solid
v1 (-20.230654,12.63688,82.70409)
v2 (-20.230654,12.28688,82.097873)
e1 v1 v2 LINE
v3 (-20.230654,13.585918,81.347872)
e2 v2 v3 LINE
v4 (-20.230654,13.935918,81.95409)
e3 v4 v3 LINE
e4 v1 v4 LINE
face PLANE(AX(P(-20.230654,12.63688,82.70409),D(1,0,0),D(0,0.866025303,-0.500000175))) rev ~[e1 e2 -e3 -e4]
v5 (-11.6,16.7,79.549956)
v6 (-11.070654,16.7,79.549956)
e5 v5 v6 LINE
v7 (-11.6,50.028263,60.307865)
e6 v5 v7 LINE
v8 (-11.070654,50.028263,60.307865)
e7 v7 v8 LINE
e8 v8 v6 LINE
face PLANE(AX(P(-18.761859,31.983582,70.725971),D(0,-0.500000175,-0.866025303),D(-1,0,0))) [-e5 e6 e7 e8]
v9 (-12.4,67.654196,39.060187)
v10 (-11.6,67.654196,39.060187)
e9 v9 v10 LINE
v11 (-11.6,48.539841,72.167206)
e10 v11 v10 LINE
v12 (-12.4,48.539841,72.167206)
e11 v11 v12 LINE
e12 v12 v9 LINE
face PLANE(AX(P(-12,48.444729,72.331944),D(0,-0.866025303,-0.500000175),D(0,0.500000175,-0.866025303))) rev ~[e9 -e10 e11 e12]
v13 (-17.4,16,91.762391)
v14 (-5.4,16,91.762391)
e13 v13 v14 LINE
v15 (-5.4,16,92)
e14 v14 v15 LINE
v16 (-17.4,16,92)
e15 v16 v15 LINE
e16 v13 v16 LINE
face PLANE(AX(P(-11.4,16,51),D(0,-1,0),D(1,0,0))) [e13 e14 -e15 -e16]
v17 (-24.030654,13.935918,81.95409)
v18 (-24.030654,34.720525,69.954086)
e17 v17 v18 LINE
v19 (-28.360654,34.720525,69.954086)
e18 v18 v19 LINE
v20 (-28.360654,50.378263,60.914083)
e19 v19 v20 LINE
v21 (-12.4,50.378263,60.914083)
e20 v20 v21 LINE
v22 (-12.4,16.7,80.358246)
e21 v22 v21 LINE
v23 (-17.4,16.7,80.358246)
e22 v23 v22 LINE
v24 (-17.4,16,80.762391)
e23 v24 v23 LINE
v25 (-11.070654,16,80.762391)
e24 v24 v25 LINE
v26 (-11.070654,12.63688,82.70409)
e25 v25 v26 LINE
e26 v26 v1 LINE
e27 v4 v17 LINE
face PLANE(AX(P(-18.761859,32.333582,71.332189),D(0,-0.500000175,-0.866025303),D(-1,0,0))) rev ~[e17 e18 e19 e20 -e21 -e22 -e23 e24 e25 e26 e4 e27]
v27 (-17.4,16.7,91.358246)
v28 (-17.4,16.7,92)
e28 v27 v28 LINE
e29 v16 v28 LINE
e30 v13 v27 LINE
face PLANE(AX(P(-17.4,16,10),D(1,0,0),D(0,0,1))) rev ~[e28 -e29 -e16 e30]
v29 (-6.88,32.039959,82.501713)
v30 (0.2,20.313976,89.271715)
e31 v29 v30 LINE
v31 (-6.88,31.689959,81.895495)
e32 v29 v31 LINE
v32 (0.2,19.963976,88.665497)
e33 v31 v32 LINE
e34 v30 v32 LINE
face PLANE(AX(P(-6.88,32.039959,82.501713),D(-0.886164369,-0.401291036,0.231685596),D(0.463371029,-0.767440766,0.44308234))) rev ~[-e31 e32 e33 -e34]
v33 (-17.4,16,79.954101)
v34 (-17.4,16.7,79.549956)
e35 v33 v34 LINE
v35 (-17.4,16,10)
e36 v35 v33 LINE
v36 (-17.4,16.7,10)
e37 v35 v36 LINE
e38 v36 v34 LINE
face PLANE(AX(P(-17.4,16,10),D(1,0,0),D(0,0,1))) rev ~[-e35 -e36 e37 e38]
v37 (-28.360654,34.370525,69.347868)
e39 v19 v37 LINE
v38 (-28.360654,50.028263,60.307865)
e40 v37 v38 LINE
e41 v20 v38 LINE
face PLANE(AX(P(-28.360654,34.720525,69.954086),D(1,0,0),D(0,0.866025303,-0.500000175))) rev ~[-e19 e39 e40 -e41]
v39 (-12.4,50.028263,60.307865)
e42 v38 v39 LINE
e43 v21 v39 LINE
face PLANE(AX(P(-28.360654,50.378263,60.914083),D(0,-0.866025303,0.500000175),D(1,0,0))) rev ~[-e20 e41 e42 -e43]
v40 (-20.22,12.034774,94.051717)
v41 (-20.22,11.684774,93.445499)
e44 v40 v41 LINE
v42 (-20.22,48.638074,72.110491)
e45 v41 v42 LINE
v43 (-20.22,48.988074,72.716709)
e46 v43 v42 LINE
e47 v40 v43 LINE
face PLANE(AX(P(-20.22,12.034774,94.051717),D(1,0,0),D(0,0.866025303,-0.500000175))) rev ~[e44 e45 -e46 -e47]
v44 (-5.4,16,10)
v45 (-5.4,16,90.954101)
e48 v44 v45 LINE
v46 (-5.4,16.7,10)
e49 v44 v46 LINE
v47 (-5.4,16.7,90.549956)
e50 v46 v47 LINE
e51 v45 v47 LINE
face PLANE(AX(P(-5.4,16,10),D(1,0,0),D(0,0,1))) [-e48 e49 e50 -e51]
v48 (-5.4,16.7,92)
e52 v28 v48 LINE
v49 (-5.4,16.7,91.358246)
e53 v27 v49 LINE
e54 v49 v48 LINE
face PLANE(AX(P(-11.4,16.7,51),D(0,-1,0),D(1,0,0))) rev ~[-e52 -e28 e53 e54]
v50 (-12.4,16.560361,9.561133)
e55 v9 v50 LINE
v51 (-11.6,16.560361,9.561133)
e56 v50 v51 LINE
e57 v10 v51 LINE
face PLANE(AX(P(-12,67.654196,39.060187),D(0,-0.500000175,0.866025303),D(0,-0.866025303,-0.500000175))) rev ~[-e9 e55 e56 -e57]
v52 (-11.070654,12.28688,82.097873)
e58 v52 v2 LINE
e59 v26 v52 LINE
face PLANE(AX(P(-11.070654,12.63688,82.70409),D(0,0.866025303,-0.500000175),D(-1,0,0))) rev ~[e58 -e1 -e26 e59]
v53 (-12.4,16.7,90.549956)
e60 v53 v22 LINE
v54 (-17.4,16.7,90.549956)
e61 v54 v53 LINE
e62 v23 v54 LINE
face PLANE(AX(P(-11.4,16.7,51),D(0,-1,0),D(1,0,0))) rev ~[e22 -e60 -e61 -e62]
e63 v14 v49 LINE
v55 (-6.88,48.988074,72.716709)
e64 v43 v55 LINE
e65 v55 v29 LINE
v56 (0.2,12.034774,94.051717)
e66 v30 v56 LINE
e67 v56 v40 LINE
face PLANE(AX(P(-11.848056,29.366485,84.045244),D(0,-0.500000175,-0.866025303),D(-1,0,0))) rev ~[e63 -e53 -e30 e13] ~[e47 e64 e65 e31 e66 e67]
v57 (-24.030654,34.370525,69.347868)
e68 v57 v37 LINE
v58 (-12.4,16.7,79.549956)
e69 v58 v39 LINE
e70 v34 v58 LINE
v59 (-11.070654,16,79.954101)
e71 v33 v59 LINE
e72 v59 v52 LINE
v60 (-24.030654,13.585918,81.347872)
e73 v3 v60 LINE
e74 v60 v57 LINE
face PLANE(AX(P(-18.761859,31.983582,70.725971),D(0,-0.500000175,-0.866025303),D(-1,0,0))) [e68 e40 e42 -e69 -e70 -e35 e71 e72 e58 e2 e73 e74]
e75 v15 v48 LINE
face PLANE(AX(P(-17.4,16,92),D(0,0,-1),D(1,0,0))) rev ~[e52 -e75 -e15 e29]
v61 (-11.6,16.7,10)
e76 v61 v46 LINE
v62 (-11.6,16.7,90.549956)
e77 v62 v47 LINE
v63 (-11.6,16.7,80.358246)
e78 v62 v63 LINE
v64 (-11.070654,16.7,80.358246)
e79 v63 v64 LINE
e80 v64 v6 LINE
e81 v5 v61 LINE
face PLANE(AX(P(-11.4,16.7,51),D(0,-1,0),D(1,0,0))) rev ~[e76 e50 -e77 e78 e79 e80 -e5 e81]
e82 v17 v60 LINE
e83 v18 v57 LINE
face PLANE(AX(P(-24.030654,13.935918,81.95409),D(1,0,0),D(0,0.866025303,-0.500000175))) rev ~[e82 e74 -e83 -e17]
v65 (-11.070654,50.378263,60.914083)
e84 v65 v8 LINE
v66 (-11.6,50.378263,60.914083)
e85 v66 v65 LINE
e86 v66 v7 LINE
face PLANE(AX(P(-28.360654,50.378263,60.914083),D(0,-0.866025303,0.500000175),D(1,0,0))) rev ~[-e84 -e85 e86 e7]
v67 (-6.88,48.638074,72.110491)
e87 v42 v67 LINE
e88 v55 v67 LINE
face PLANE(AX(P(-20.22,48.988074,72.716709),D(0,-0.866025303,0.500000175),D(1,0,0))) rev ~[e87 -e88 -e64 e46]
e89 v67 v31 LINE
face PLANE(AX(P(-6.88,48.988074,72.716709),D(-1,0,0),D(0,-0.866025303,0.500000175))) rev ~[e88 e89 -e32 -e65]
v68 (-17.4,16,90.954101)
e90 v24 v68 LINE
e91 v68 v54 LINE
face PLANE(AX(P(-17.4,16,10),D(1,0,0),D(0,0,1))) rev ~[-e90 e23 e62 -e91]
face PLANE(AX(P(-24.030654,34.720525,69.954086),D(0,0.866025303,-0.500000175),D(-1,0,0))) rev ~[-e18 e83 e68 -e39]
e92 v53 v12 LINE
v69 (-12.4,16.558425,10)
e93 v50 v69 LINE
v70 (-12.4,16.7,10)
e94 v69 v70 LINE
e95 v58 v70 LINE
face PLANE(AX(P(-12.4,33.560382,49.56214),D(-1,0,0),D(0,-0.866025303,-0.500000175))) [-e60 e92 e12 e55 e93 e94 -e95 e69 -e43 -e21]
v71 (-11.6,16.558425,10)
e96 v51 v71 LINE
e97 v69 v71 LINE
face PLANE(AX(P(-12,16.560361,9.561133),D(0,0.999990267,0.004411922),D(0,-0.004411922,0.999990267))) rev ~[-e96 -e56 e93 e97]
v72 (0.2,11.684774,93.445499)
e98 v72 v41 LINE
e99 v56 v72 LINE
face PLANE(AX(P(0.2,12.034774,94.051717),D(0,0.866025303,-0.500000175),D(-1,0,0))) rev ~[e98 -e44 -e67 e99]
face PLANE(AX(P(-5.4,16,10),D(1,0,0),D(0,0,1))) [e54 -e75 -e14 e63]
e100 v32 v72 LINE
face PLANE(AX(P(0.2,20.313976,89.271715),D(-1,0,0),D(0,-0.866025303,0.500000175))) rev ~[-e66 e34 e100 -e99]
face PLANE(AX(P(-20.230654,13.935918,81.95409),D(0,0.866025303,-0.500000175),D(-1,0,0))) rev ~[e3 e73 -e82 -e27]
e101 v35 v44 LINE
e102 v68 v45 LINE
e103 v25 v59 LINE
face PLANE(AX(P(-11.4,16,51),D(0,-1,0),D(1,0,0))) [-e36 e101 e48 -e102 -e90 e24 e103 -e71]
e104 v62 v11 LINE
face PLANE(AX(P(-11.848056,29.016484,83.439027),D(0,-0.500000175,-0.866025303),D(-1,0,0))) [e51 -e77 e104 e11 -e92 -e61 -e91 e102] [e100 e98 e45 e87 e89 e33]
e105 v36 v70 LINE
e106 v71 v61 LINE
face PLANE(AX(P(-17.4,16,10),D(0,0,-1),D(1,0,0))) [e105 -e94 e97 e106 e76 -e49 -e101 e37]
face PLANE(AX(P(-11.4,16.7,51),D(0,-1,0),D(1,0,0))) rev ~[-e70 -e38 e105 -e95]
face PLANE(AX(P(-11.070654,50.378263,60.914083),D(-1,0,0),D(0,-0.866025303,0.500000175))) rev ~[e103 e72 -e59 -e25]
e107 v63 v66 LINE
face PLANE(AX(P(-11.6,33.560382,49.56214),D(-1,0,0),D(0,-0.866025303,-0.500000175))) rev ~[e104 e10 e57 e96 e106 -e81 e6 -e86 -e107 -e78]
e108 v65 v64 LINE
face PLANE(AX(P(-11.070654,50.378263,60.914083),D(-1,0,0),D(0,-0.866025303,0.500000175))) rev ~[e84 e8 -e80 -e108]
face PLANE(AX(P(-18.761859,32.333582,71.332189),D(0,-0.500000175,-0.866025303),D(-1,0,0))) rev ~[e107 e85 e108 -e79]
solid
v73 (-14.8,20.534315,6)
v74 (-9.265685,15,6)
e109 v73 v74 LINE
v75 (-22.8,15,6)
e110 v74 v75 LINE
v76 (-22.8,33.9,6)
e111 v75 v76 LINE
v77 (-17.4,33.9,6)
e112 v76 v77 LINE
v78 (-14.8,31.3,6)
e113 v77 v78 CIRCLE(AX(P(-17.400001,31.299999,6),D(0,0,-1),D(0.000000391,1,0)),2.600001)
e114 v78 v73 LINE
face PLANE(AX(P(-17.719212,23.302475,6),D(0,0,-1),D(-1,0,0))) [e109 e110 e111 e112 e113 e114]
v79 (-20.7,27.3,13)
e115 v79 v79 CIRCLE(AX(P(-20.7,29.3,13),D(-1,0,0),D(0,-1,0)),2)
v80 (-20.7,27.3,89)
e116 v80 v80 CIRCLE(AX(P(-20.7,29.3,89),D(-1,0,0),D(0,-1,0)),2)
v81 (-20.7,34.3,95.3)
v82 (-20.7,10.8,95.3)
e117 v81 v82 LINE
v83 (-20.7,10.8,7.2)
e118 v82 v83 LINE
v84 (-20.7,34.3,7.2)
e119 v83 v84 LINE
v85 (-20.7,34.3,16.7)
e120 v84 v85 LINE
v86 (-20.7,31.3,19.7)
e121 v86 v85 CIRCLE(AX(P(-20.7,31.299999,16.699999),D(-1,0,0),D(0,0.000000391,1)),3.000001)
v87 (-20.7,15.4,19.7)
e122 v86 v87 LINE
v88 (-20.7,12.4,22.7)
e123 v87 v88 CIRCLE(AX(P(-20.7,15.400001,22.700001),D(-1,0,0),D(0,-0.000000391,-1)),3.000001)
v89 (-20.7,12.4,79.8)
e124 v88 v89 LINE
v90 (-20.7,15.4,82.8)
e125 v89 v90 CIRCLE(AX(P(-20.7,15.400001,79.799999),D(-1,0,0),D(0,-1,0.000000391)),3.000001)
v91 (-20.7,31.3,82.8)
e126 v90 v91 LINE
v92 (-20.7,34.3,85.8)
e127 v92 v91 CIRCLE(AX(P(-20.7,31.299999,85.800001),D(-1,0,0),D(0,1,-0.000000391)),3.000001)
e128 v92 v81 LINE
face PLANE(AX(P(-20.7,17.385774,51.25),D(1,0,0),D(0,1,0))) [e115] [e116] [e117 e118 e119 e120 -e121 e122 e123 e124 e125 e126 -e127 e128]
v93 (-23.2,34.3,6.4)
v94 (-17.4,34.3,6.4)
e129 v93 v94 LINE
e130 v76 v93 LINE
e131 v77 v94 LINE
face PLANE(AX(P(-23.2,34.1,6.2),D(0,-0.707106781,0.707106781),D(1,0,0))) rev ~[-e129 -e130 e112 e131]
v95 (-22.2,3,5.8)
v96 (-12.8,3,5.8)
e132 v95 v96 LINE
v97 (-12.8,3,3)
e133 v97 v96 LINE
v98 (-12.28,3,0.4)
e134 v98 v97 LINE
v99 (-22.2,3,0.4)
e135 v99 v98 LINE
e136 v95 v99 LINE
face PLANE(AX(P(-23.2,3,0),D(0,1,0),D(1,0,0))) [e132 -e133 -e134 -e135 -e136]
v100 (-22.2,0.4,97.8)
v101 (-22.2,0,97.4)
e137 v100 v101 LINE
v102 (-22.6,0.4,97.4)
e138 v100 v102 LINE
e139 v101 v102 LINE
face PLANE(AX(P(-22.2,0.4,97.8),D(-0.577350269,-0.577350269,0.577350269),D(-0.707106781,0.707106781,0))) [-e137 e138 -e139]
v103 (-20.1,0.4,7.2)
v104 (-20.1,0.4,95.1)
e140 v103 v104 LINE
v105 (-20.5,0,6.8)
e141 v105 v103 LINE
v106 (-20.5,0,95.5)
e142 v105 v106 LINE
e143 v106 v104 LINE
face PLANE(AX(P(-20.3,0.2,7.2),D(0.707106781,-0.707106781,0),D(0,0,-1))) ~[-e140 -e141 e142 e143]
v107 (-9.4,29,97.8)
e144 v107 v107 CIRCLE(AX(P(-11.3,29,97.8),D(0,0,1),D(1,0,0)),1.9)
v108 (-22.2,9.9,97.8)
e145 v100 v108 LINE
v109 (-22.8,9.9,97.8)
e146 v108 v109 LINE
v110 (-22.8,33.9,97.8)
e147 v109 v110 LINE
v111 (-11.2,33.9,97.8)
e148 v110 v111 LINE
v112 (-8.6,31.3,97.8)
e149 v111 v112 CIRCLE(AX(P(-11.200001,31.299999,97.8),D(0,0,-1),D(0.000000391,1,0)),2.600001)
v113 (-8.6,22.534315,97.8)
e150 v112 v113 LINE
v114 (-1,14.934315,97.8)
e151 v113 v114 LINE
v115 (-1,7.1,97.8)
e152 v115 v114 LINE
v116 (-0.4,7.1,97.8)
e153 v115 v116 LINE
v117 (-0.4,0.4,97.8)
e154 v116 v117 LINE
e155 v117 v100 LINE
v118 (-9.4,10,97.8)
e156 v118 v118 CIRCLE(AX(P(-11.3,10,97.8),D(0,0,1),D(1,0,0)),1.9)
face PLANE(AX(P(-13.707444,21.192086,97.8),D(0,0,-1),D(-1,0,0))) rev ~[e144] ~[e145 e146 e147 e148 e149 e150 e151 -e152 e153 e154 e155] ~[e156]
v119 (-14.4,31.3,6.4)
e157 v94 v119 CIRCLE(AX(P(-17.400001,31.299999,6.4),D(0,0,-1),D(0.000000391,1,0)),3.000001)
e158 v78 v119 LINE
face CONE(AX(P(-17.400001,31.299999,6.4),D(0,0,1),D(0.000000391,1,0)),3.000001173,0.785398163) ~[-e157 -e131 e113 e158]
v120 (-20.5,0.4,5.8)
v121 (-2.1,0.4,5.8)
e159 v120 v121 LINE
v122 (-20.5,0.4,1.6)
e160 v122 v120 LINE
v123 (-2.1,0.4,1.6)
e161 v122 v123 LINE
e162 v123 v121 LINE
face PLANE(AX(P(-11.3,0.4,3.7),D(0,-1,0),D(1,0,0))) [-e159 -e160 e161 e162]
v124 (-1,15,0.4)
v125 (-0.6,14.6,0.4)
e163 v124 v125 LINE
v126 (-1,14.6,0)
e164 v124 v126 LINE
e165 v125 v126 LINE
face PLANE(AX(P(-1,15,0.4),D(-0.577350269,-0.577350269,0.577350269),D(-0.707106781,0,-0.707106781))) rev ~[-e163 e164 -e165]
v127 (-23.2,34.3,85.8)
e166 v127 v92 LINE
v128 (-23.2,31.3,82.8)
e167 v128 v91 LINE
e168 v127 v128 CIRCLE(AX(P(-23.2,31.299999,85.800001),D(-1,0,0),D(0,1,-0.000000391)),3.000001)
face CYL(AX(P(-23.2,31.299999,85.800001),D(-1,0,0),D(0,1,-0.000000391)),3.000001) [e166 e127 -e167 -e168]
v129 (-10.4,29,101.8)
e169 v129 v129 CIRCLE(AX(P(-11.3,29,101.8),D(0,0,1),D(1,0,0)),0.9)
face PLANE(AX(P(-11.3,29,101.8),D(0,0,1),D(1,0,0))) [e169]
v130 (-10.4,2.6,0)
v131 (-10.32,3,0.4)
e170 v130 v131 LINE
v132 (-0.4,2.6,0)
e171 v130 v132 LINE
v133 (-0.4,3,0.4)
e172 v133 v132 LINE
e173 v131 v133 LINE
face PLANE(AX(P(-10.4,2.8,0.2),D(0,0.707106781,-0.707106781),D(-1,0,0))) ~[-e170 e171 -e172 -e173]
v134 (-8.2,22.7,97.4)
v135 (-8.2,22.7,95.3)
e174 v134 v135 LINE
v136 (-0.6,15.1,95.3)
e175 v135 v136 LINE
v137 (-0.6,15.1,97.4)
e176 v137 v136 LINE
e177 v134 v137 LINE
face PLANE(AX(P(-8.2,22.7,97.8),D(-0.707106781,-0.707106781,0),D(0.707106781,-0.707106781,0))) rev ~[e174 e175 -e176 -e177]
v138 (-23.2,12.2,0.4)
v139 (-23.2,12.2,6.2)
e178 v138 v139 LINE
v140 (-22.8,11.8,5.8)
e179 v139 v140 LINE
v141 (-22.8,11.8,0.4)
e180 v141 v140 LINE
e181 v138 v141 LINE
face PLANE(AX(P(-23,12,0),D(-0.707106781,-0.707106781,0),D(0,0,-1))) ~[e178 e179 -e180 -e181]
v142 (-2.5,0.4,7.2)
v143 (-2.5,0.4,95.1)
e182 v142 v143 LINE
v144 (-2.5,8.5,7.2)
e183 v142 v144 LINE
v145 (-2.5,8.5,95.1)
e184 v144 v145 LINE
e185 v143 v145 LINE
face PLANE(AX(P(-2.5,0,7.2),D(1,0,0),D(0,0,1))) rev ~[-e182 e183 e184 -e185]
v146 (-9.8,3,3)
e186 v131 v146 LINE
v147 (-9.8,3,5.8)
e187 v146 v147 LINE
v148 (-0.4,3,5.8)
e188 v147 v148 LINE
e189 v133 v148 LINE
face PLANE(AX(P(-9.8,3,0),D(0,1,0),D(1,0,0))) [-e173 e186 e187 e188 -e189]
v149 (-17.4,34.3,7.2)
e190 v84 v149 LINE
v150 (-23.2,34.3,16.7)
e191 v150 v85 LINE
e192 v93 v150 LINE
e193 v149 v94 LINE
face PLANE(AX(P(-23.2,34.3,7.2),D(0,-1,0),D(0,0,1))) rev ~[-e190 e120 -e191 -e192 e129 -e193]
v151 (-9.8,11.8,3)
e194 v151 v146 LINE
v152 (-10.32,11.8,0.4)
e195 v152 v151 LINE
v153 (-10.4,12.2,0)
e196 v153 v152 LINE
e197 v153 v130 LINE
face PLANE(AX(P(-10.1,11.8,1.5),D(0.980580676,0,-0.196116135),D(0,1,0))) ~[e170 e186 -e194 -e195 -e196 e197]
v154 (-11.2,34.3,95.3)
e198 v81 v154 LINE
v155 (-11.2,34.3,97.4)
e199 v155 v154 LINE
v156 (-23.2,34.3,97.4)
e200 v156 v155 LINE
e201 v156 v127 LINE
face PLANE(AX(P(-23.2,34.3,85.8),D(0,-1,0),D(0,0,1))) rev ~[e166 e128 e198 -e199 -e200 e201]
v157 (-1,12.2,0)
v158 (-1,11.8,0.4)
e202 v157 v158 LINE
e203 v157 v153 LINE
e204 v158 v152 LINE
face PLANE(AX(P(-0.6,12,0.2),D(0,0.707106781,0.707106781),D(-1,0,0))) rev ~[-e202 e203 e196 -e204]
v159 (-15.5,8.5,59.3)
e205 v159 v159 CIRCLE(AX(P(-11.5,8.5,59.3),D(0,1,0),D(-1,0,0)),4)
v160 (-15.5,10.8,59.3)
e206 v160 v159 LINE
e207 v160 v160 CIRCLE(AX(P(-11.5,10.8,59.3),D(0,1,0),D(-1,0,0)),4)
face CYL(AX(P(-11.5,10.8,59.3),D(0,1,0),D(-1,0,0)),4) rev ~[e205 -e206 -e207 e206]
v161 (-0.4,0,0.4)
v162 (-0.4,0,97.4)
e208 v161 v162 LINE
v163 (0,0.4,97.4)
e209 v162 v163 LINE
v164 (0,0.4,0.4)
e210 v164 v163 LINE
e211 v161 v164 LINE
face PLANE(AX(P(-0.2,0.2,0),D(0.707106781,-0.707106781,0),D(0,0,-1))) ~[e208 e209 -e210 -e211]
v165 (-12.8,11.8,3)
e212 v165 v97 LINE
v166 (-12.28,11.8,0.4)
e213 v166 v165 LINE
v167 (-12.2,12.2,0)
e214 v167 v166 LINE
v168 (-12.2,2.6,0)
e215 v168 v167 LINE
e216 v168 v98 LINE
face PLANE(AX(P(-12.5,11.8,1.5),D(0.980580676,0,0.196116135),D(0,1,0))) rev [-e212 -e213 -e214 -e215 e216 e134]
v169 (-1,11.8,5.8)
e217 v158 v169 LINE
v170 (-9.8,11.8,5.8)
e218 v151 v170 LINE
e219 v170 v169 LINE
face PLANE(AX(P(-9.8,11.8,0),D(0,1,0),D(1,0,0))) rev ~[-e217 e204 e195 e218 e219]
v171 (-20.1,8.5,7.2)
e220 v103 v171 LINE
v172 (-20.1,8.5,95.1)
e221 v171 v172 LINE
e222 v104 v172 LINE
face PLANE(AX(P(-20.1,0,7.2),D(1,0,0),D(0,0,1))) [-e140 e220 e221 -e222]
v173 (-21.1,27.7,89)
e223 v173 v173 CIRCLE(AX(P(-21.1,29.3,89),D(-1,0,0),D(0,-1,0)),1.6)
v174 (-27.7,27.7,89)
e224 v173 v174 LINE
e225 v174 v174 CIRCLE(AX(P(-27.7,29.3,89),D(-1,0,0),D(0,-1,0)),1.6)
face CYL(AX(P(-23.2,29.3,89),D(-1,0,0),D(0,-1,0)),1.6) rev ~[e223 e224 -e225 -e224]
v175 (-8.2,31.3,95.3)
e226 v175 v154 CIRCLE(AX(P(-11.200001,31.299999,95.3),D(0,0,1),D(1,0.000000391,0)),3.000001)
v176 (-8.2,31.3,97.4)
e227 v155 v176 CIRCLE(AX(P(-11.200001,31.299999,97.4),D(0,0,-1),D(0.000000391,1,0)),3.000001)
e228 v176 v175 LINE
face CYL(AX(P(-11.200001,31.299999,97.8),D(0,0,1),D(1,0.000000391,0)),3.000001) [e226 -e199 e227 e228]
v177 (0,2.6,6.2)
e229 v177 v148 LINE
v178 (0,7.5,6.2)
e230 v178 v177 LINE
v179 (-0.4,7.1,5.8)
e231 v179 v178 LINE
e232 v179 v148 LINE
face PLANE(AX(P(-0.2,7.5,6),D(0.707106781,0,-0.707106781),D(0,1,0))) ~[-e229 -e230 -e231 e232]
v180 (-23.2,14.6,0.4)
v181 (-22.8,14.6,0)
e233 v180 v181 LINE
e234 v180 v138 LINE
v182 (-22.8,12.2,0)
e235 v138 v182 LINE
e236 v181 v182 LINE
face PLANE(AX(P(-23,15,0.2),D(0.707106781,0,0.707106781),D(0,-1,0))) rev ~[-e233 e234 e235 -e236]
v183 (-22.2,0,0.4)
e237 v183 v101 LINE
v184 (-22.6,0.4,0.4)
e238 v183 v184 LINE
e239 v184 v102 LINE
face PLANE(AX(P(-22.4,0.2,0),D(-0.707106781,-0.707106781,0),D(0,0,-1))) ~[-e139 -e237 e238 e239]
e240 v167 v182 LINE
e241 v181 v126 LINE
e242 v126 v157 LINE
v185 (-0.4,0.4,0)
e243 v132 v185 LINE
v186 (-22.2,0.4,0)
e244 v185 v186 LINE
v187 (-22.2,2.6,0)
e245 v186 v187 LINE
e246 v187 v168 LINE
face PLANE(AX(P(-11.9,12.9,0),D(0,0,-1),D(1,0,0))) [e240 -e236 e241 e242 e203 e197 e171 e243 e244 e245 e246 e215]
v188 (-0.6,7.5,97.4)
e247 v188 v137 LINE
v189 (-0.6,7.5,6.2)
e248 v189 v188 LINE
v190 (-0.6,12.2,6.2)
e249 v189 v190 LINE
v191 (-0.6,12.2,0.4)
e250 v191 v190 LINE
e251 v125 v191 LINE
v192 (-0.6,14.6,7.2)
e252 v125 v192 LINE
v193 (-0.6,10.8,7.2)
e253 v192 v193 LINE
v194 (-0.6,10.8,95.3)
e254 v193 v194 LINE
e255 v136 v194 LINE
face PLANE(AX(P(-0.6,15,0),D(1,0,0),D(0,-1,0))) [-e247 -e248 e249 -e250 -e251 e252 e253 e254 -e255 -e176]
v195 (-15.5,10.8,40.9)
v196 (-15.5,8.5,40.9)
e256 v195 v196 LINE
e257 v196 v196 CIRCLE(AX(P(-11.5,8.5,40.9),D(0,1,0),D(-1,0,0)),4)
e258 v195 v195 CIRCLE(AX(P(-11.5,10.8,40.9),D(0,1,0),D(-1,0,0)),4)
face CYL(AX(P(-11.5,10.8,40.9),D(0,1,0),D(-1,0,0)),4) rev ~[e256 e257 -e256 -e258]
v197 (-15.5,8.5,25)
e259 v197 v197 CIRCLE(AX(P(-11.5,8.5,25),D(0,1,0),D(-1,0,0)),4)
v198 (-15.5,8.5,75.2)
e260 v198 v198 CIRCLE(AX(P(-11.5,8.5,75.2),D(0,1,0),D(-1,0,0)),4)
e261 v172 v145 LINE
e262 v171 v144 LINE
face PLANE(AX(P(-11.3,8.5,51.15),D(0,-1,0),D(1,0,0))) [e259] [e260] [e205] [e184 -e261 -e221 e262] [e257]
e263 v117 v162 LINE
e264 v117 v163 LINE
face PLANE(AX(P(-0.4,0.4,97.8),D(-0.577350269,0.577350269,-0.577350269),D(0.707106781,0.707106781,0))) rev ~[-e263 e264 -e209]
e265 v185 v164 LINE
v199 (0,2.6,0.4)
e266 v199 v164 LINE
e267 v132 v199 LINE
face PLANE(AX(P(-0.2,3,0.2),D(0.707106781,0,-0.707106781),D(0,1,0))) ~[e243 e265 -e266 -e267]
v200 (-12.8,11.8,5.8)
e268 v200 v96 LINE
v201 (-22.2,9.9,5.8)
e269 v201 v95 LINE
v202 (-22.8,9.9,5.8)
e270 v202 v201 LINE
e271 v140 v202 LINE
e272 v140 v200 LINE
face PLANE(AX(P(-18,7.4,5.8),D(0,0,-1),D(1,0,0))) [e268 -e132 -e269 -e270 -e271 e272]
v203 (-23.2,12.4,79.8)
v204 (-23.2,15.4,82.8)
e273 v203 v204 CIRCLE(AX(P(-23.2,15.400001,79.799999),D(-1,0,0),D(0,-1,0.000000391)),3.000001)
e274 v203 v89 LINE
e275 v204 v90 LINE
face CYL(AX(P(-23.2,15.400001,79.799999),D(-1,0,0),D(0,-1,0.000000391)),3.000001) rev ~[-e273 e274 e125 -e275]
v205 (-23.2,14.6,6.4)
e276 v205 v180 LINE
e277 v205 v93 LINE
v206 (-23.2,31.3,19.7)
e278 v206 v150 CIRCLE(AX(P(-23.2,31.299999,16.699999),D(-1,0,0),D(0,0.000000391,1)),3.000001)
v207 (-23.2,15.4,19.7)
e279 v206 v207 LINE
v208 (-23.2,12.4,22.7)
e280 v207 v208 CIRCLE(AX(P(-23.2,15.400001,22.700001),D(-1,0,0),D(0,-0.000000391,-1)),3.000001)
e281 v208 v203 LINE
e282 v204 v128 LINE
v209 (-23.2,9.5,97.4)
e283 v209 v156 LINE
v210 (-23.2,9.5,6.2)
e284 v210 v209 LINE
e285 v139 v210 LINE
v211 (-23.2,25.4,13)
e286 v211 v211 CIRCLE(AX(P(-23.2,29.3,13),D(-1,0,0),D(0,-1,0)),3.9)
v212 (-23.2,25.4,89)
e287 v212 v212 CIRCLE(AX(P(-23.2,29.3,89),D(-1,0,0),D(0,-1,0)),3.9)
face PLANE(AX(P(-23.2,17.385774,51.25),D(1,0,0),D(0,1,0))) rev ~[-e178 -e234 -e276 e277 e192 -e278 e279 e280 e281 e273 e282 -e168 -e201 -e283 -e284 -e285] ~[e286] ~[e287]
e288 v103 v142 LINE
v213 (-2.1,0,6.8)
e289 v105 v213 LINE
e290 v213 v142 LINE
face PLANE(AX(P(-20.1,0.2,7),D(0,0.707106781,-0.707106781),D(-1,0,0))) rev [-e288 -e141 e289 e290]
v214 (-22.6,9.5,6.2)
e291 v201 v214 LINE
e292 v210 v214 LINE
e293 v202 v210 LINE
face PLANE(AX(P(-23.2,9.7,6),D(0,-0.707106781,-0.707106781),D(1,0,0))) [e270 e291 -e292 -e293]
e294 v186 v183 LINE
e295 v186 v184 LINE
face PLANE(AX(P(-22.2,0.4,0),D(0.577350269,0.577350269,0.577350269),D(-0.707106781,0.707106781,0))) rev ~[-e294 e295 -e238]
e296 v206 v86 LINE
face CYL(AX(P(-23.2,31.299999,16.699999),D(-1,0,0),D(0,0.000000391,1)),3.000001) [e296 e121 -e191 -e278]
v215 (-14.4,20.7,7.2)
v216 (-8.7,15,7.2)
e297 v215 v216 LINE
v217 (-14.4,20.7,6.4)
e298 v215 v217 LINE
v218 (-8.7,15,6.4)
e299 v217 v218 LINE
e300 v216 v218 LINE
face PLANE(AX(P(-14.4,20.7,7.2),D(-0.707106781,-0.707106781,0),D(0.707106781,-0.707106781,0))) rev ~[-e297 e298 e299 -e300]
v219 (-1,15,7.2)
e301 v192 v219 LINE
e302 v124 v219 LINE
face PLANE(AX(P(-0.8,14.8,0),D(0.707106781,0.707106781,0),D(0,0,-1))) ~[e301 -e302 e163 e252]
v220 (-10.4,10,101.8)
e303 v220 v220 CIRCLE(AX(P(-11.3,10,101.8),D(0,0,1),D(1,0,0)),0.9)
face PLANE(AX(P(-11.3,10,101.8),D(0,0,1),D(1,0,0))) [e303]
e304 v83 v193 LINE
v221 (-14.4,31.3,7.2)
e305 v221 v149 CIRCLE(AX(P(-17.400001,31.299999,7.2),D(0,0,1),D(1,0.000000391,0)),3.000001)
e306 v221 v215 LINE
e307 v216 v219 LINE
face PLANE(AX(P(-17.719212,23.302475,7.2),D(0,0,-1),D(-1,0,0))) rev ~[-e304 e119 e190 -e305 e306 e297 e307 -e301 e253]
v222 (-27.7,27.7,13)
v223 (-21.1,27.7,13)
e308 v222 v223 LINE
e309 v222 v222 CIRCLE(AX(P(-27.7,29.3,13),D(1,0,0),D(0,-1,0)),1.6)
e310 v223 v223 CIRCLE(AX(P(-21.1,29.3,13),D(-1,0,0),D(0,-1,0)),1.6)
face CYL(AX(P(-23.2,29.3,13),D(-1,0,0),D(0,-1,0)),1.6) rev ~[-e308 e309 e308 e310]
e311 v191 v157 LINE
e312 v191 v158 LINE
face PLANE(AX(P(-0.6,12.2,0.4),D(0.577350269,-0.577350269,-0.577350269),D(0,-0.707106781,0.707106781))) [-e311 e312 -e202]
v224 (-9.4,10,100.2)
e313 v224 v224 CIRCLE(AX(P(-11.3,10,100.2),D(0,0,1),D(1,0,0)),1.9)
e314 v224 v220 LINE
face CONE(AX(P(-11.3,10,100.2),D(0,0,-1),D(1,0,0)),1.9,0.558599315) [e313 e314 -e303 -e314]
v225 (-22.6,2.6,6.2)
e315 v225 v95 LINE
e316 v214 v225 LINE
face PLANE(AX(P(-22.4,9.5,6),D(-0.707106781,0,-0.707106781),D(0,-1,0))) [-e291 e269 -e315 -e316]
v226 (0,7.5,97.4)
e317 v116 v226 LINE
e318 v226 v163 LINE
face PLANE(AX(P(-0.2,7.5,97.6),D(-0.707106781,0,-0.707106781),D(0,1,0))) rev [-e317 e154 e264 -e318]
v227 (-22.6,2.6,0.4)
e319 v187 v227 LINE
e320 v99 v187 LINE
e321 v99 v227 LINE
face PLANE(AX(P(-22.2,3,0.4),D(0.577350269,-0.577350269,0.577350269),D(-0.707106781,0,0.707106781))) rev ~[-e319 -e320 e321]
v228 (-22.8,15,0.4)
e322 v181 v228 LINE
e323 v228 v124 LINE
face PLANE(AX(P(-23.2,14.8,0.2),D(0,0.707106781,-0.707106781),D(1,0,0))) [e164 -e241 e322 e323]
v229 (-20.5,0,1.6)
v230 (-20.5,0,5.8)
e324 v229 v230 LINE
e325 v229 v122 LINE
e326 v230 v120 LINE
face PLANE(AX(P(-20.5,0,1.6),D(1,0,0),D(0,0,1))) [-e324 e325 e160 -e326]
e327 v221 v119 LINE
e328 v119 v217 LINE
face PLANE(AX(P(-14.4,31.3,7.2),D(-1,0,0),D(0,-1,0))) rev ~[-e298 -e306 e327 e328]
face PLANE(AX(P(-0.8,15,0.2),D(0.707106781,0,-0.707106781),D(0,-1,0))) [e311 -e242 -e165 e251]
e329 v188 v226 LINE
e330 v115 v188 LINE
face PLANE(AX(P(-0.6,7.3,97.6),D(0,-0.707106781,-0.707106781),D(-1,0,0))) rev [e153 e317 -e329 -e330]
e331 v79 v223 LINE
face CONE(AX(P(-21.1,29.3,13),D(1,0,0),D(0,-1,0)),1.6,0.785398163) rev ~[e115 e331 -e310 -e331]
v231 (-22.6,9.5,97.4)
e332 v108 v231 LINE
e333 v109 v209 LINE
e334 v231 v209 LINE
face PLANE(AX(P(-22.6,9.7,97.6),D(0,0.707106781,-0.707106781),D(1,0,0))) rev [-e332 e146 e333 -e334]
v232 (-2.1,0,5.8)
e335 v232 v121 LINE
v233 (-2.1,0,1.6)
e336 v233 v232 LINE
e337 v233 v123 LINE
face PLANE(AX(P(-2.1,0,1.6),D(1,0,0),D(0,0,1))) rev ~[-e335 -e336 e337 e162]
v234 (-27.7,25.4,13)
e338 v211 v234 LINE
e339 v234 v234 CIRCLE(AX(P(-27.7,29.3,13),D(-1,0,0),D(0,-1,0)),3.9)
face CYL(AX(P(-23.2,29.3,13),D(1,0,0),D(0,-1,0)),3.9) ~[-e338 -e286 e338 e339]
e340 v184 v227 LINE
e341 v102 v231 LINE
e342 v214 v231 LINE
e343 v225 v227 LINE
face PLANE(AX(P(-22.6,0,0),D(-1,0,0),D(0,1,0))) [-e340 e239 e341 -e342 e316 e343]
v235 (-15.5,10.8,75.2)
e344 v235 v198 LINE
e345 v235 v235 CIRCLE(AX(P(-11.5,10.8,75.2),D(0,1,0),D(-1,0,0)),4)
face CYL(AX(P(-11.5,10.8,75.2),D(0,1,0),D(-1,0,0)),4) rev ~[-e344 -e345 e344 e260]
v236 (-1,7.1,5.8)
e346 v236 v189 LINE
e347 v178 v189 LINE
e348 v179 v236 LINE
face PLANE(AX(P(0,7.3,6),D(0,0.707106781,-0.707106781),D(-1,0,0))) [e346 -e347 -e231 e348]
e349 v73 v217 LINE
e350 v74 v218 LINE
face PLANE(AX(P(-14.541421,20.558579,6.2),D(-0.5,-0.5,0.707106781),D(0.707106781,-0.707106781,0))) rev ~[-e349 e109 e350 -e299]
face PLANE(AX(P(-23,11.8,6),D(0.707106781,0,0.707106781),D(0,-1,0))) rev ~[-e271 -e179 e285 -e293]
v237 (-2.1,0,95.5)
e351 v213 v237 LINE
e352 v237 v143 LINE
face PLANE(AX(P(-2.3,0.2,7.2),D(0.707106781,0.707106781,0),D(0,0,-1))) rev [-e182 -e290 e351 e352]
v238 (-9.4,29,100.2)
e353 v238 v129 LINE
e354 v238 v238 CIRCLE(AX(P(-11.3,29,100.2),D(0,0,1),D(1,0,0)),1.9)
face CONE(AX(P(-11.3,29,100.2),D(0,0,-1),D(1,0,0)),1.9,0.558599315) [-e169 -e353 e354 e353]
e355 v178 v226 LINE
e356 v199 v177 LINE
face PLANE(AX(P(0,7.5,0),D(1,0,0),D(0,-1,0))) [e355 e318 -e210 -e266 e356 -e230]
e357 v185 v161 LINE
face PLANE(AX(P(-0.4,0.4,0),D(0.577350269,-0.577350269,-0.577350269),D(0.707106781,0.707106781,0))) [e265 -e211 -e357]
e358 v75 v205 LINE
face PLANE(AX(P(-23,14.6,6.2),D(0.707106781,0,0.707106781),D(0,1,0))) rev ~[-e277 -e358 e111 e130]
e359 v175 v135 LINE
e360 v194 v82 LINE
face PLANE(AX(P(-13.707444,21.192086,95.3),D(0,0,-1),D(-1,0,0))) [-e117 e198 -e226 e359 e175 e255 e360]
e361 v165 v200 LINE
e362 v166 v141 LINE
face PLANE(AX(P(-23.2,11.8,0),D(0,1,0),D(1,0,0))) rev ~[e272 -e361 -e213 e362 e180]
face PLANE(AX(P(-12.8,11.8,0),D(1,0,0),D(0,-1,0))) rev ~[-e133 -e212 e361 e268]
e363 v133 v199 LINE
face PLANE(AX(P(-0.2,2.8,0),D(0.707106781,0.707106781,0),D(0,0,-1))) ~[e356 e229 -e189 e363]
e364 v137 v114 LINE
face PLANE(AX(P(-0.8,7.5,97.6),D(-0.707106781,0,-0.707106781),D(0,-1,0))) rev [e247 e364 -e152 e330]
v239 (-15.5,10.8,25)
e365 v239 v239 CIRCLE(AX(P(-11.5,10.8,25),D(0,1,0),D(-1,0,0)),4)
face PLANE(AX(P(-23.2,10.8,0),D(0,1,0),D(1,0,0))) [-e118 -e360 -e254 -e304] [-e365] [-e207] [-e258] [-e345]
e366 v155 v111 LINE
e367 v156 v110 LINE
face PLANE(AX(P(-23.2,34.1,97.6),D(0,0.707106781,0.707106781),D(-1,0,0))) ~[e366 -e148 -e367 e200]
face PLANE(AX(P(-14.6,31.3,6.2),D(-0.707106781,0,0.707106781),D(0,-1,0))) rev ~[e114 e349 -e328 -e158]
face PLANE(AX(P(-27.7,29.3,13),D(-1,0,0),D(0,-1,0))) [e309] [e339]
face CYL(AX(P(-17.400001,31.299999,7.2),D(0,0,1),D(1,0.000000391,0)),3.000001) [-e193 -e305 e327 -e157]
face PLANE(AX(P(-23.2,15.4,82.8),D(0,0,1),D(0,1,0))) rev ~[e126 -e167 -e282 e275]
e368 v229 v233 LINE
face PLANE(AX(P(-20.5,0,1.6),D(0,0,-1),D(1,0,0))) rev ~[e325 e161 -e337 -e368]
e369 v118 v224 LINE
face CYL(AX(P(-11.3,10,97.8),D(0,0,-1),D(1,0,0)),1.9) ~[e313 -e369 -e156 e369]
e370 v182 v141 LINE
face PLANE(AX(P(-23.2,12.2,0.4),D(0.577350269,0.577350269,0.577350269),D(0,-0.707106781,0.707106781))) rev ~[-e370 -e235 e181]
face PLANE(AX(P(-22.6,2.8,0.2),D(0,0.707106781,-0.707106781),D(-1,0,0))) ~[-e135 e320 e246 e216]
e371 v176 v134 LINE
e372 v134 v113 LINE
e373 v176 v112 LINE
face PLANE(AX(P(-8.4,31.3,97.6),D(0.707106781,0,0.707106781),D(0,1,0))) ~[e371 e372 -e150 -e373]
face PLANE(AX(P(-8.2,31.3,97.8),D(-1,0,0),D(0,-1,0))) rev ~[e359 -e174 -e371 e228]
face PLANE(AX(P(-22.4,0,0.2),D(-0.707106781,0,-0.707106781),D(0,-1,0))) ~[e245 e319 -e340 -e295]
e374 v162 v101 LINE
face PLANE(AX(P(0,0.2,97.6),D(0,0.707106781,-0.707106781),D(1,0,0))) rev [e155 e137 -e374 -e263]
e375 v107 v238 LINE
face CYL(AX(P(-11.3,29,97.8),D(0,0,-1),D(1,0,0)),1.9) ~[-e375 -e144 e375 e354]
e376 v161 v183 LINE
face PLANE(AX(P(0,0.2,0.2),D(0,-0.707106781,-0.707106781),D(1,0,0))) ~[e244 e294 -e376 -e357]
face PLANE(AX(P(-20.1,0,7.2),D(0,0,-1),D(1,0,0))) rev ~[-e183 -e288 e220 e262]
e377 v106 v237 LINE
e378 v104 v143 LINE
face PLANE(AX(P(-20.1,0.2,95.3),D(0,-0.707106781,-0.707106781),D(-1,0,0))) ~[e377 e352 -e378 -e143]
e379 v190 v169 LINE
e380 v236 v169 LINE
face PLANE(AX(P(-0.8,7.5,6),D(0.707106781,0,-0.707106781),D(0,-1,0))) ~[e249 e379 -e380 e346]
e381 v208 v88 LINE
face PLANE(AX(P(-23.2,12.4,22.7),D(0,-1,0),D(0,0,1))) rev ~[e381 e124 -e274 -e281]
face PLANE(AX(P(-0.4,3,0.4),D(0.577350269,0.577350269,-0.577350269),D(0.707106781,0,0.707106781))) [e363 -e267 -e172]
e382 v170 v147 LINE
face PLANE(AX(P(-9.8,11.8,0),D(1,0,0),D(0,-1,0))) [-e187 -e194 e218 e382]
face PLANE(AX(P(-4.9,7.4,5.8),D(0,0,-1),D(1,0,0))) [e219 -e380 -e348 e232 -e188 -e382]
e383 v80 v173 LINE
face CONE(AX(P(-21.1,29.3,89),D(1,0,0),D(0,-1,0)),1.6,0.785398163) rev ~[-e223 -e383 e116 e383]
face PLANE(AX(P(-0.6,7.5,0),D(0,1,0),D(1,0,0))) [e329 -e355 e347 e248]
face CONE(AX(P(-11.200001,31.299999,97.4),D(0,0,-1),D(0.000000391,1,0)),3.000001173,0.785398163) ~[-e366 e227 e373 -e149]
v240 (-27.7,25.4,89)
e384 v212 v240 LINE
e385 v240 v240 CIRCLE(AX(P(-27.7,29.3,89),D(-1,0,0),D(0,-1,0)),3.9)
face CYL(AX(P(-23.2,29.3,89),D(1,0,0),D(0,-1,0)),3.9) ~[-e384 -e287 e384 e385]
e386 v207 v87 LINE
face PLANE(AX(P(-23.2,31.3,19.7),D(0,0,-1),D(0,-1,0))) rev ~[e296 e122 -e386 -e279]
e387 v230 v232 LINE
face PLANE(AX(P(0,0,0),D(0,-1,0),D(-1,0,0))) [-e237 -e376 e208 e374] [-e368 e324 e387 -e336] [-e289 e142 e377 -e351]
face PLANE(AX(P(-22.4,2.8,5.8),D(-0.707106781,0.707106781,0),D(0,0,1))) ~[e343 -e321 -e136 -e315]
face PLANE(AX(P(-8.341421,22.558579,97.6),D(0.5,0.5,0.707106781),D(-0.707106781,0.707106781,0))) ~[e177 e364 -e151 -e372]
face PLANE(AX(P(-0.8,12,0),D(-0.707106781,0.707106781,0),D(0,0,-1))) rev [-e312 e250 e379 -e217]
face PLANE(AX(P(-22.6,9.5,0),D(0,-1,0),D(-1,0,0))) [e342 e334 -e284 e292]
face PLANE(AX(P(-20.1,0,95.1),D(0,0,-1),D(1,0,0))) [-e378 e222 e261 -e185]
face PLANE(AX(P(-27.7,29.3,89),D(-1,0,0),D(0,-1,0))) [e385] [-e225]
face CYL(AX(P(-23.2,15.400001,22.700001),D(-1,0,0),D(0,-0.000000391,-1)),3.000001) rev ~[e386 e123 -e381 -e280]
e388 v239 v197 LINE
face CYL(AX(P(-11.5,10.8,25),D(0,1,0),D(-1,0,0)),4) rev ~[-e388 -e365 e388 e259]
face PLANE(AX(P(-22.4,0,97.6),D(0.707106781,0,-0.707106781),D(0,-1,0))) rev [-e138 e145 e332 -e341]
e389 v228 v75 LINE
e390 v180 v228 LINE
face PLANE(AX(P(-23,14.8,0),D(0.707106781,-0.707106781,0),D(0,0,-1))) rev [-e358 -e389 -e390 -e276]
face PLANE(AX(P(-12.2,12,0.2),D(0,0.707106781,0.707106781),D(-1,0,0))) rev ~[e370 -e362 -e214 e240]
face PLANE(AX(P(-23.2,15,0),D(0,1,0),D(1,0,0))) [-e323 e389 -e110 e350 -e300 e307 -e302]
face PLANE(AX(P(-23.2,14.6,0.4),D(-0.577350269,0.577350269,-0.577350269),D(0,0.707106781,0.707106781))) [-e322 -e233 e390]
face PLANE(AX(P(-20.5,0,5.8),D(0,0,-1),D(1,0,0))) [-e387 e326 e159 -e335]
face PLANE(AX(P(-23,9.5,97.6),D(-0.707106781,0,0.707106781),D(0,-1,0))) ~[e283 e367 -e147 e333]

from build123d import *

# Parameters (mm, degrees)
PAD_DEPTH          = 97.8
PAD001_DEPTH       = 2.5
SKETCH002_W        = 22.6
SKETCH002_H        = 4.2
PAD002_DEPTH       = 7.2
PAD003_DEPTH       = 1.2
PAD004_DEPTH       = 2.5
SKETCH005_W        = 10.4
SKETCH005_H        = 8.8
SKETCH005_W_2      = 9.8
POCKET_DEPTH       = 5.8
CHAMFER_SIZE2      = 3
CHAMFER_SIZE       = 0.6
CHAMFER001_SIZE2   = 3
CHAMFER001_SIZE    = 0.6
SKETCH006_R        = 3.9
PAD005_DEPTH       = 4.5
SKETCH007_R        = 1.6
POCKET001_DEPTH    = 5
SKETCH008_R        = 1.9
PAD006_DEPTH       = 4
CHAMFER002_1_SIZE2 = 1
CHAMFER002_1_SIZE  = 1.6
CHAMFER002_2_SIZE2 = 1
CHAMFER002_2_SIZE  = 1.6
SKETCH009_W        = 18.4
SKETCH009_H        = 4.2
POCKET002_DEPTH    = 0.4
SKETCH010_W        = 17.6
SKETCH010_H        = 87.9
POCKET003_DEPTH    = 8.5
CHAMFER003_SIZE    = 0.4
CHAMFER004_SIZE    = 0.4
CHAMFER005_SIZE    = 0.4
SKETCH011_R        = 4
POCKET004_DEPTH    = 5
SKETCH012_W        = 12
SKETCH012_H        = 82
PAD007_DEPTH       = 0.7
PAD008_DEPTH       = 0.7
PAD009_DEPTH       = 0.7
PAD010_DEPTH       = 0.4


with BuildPart() as body:
    # Sketch → Pad (new body)
    with BuildSketch(Plane.XY):
        Polygon((-22.6, 0), (-22.6, 9.5), (-23.2, 9.5), (-23.2, 10.8), (-0.6, 10.8), (-0.6, 7.5), (0, 7.5), (0, 0), align=None)
    extrude(amount=PAD_DEPTH)

    # Sketch001 (on Face10 of Pad) → Pad001 (join)
    with BuildSketch(Plane.XY.offset(97.8)):
        with BuildLine():
            Line((-23.2, 10.8), (-23.2, 34.3))
            Line((-23.2, 34.3), (-11.2, 34.3))
            ThreePointArc((-8.2, 31.3), (-9.07868, 33.42132), (-11.2, 34.3))
            Line((-8.2, 31.3), (-8.2, 22.7))
            Line((-8.2, 22.7), (-0.6, 15.1))
            Line((-0.6, 15.1), (-0.6, 10.8))
            Line((-0.6, 10.8), (-23.2, 10.8))
        make_face()
    extrude(amount=-PAD001_DEPTH)

    # Sketch002 (on Face4 of Pad001) → Pad002 (join)
    with BuildSketch(Plane(origin=(0, 0, 0), x_dir=(1, 0, 0), z_dir=(0, 0, -1))):
        with Locations((-11.9, -12.9)):
            Rectangle(SKETCH002_W, SKETCH002_H)
    extrude(amount=-PAD002_DEPTH)

    # Sketch003 (on Face22 of Pad002) → Pad003 (join)
    with BuildSketch(Plane.XY.offset(7.2)):
        with BuildLine():
            Line((-23.2, 15), (-23.2, 34.3))
            Line((-23.2, 34.3), (-17.4, 34.3))
            ThreePointArc((-14.4, 31.3), (-15.27868, 33.42132), (-17.4, 34.3))
            Line((-14.4, 31.3), (-14.4, 20.7))
            Line((-14.4, 20.7), (-8.7, 15))
            Line((-8.7, 15), (-23.2, 15))
        make_face()
    extrude(amount=-PAD003_DEPTH)

    # Sketch004 (on Face7 of Pad003) → Pad004 (join)
    with BuildSketch(Plane(origin=(-23.2, 0, 0), x_dir=(0, -1, 0), z_dir=(-1, 0, 0))):
        with BuildLine():
            Line((-34.3, 7.2), (-34.3, 16.7))
            ThreePointArc((-31.3, 19.7), (-33.42132, 18.82132), (-34.3, 16.7))
            Line((-31.3, 19.7), (-15.4, 19.7))
            ThreePointArc((-15.4, 19.7), (-13.27868, 20.57868), (-12.4, 22.7))
            Line((-12.4, 22.7), (-12.4, 79.8))
            ThreePointArc((-12.4, 79.8), (-13.27868, 81.92132), (-15.4, 82.8))
            Line((-15.4, 82.8), (-31.3, 82.8))
            ThreePointArc((-34.3, 85.8), (-33.42132, 83.67868), (-31.3, 82.8))
            Line((-34.3, 85.8), (-34.3, 95.3))
            Line((-34.3, 95.3), (-10.8, 95.3))
            Line((-10.8, 95.3), (-10.8, 7.2))
            Line((-10.8, 7.2), (-34.3, 7.2))
        make_face()
    extrude(amount=-PAD004_DEPTH)

    # Sketch005 (on Face4 of Pad004) → Pocket (cut)
    with BuildSketch(Plane(origin=(0, 0, 0), x_dir=(1, 0, 0), z_dir=(0, 0, -1))):
        with Locations((-18, -7.4)):
            Rectangle(SKETCH005_W, SKETCH005_H)
        with Locations((-4.9, -7.4)):
            Rectangle(SKETCH005_W_2, SKETCH005_H)
    extrude(amount=-POCKET_DEPTH, mode=Mode.SUBTRACT)

    # Chamfer
    chamfer_edges = [body.edges().sort_by_distance(p)[0] for p in [
        (-9.8, 6.9, 0),
    ]]
    chamfer_side = body.faces().sort_by_distance((-11.3, 2.885526, 0))[0]
    chamfer(chamfer_edges, length=CHAMFER_SIZE, length2=CHAMFER_SIZE2, reference=chamfer_side)

    # Chamfer001
    chamfer001_edges = [body.edges().sort_by_distance(p)[0] for p in [
        (-12.8, 6.9, 0),
    ]]
    chamfer001_side = body.faces().sort_by_distance((-11.36491, 2.668377, 0))[0]
    chamfer(chamfer001_edges, length=CHAMFER001_SIZE, length2=CHAMFER001_SIZE2, reference=chamfer001_side)

    # Sketch006 (on Face25 of Chamfer001) → Pad005 (join)
    with BuildSketch(Plane(origin=(-23.2, 0, 0), x_dir=(0, -1, 0), z_dir=(-1, 0, 0))):
        with Locations((-29.3, 89)):
            Circle(SKETCH006_R)
        with Locations((-29.3, 13)):
            Circle(SKETCH006_R)
    extrude(amount=PAD005_DEPTH)

    # Sketch007 (on Face25 of Pad005) → Pocket001 (cut, symmetric)
    with BuildSketch(Plane(origin=(-23.2, 0, 0), x_dir=(0, -1, 0), z_dir=(-1, 0, 0))):
        with Locations((-29.3, 13)):
            Circle(SKETCH007_R)
        with Locations((-29.3, 89)):
            Circle(SKETCH007_R)
    extrude(amount=POCKET001_DEPTH, both=True, mode=Mode.SUBTRACT)

    # Sketch008 (on Face22 of Pocket001) → Pad006 (join)
    with BuildSketch(Plane.XY.offset(97.8)):
        with Locations((-11.3, 10)):
            Circle(SKETCH008_R)
        with Locations((-11.3, 29)):
            Circle(SKETCH008_R)
    extrude(amount=PAD006_DEPTH)

    # Chamfer002 1
    chamfer002_1_edges = [body.edges().sort_by_distance(p)[0] for p in [
        (-13.2, 29, 101.8),
    ]]
    chamfer002_1_side = body.faces().sort_by_distance((-13.2, 29, 99.8))[0]
    chamfer(chamfer002_1_edges, length=CHAMFER002_1_SIZE, length2=CHAMFER002_1_SIZE2, reference=chamfer002_1_side)

    # Chamfer002 2
    chamfer002_2_edges = [body.edges().sort_by_distance(p)[0] for p in [
        (-13.2, 10, 101.8),
    ]]
    chamfer002_2_side = body.faces().sort_by_distance((-13.2, 10, 99.8))[0]
    chamfer(chamfer002_2_edges, length=CHAMFER002_2_SIZE, length2=CHAMFER002_2_SIZE2, reference=chamfer002_2_side)

    # Sketch009 (on Face12 of Chamfer002) → Pocket002 (cut)
    with BuildSketch(Plane.XZ):
        with Locations((-11.3, 3.7)):
            Rectangle(SKETCH009_W, SKETCH009_H)
    extrude(amount=-POCKET002_DEPTH, mode=Mode.SUBTRACT)

    # Sketch010 (on Face12 of Pocket002) → Pocket003 (cut)
    with BuildSketch(Plane.XZ):
        with Locations((-11.3, 51.15)):
            Rectangle(SKETCH010_W, SKETCH010_H)
    extrude(amount=-POCKET003_DEPTH, mode=Mode.SUBTRACT)

    # Chamfer003
    chamfer003_edges = [body.edges().sort_by_distance(p)[0] for p in [
        (-20.7, 30.9, 13),
        (-20.7, 30.9, 89),
    ]]
    chamfer(chamfer003_edges, length=CHAMFER003_SIZE)

    # Chamfer004
    chamfer004_edges = [body.edges().sort_by_distance(p)[0] for p in [
        (-22.6, 0, 48.9),
        (0, 0, 48.9),
        (-20.1, 0, 51.15),
        (-11.3, 0, 95.1),
        (-2.5, 0, 51.15),
        (-11.3, 0, 7.2),
        (-11.3, 0, 0),
        (0, 1.5, 0),
        (-22.6, 1.5, 0),
        (-17.7, 3, 0),
        (-4.9, 3, 0),
        (-5.2, 11.8, 0),
        (-0.6, 13.4, 0),
        (-0.6, 15, 3.6),
        (-11.9, 15, 0),
        (-18, 11.8, 0),
        (-23.2, 13.4, 0),
        (-23.2, 15, 3),
        (-11.3, 0, 97.8),
        (-22.6, 4.75, 97.8),
        (-22.9, 9.5, 97.8),
        (-23.2, 10.15, 97.8),
        (-23.2, 22.55, 97.8),
        (0, 3.75, 97.8),
        (-0.3, 7.5, 97.8),
        (-0.6, 9.15, 97.8),
        (-0.6, 12.95, 97.8),
        (-4.4, 18.9, 97.8),
        (-8.2, 27, 97.8),
        (0, 3, 2.9),
        (0, 5.25, 5.8),
        (-0.3, 7.5, 5.8),
        (-0.6, 9.15, 5.8),
        (-0.6, 11.3, 5.8),
        (-0.6, 11.8, 2.9),
        (-22.6, 3, 2.9),
        (-22.6, 6.25, 5.8),
        (-22.9, 9.5, 5.8),
        (-23.2, 10.15, 5.8),
        (-23.2, 11.3, 5.8),
        (-23.2, 11.8, 2.9),
    ]]
    chamfer(chamfer004_edges, length=CHAMFER004_SIZE)

    # Chamfer005
    chamfer005_edges = [body.edges().sort_by_distance(p)[0] for p in [
        (-11.55, 17.85, 6),
        (-14.4, 26, 6),
        (-15.27868, 33.42132, 6),
        (-20.3, 34.3, 6),
        (-23.2, 24.65, 6),
    ]]
    chamfer(chamfer005_edges, length=CHAMFER005_SIZE)

    # Sketch011 (on Face22 of Chamfer005) → Pocket004 (cut)
    with BuildSketch(Plane(origin=(0, 10.8, 0), x_dir=(-1, 0, 0), z_dir=(0, 1, 0))):
        with Locations((11.5, 25)):
            Circle(SKETCH011_R)
        with Locations((11.5, 40.9)):
            Circle(SKETCH011_R)
        with Locations((11.5, 59.3)):
            Circle(SKETCH011_R)
        with Locations((11.5, 75.2)):
            Circle(SKETCH011_R)
    extrude(amount=-POCKET004_DEPTH, mode=Mode.SUBTRACT)


with BuildPart() as body001:
    # Sketch012 (on DatumPlane) → Pad007 (new body)
    with BuildSketch(Plane.XZ.offset(-16)):
        with Locations((-11.4, 51)):
            Rectangle(SKETCH012_W, SKETCH012_H)
    extrude(amount=-PAD007_DEPTH)

    # Sketch013 (on DatumPlane) → Pad008 (join)
    with BuildSketch(Plane(origin=(0, 0, 90), x_dir=(1, 0, 0), z_dir=(0, 0.5, 0.866025))):
        Polygon((-28.360654, 58.171814), (-11.070654, 58.171814), (-11.070654, 14.591814), (-20.230654, 14.591814), (-20.230654, 16.091814), (-24.030654, 16.091814), (-24.030654, 40.091814), (-28.360654, 40.091814), align=None)
    extrude(amount=-PAD008_DEPTH)

    # Sketch014 (on DatumPlane) → Pad009 (join)
    with BuildSketch(Plane(origin=(0, 0, 101), x_dir=(1, 0, 0), z_dir=(0, 0.5, 0.866025))):
        Polygon((-20.22, 13.896562), (-20.22, 56.566562), (-6.88, 56.566562), (-6.88, 36.996562), (0.2, 23.456562), (0.2, 13.896562), align=None)
    extrude(amount=-PAD009_DEPTH)

    # Sketch015 (on DatumPlane) → Pad010 (join, symmetric)
    with BuildSketch(Plane(origin=(-12, 0, 0), x_dir=(0, 0.866025, 0.5), z_dir=(1, 0, 0))):
        Polygon((19.12226, 0), (59.52729, 70.702085), (78.120346, 38.418921), (78.120346, 0), align=None)
    extrude(amount=PAD010_DEPTH, both=True)


solid = Compound([body.part, body001.part])
